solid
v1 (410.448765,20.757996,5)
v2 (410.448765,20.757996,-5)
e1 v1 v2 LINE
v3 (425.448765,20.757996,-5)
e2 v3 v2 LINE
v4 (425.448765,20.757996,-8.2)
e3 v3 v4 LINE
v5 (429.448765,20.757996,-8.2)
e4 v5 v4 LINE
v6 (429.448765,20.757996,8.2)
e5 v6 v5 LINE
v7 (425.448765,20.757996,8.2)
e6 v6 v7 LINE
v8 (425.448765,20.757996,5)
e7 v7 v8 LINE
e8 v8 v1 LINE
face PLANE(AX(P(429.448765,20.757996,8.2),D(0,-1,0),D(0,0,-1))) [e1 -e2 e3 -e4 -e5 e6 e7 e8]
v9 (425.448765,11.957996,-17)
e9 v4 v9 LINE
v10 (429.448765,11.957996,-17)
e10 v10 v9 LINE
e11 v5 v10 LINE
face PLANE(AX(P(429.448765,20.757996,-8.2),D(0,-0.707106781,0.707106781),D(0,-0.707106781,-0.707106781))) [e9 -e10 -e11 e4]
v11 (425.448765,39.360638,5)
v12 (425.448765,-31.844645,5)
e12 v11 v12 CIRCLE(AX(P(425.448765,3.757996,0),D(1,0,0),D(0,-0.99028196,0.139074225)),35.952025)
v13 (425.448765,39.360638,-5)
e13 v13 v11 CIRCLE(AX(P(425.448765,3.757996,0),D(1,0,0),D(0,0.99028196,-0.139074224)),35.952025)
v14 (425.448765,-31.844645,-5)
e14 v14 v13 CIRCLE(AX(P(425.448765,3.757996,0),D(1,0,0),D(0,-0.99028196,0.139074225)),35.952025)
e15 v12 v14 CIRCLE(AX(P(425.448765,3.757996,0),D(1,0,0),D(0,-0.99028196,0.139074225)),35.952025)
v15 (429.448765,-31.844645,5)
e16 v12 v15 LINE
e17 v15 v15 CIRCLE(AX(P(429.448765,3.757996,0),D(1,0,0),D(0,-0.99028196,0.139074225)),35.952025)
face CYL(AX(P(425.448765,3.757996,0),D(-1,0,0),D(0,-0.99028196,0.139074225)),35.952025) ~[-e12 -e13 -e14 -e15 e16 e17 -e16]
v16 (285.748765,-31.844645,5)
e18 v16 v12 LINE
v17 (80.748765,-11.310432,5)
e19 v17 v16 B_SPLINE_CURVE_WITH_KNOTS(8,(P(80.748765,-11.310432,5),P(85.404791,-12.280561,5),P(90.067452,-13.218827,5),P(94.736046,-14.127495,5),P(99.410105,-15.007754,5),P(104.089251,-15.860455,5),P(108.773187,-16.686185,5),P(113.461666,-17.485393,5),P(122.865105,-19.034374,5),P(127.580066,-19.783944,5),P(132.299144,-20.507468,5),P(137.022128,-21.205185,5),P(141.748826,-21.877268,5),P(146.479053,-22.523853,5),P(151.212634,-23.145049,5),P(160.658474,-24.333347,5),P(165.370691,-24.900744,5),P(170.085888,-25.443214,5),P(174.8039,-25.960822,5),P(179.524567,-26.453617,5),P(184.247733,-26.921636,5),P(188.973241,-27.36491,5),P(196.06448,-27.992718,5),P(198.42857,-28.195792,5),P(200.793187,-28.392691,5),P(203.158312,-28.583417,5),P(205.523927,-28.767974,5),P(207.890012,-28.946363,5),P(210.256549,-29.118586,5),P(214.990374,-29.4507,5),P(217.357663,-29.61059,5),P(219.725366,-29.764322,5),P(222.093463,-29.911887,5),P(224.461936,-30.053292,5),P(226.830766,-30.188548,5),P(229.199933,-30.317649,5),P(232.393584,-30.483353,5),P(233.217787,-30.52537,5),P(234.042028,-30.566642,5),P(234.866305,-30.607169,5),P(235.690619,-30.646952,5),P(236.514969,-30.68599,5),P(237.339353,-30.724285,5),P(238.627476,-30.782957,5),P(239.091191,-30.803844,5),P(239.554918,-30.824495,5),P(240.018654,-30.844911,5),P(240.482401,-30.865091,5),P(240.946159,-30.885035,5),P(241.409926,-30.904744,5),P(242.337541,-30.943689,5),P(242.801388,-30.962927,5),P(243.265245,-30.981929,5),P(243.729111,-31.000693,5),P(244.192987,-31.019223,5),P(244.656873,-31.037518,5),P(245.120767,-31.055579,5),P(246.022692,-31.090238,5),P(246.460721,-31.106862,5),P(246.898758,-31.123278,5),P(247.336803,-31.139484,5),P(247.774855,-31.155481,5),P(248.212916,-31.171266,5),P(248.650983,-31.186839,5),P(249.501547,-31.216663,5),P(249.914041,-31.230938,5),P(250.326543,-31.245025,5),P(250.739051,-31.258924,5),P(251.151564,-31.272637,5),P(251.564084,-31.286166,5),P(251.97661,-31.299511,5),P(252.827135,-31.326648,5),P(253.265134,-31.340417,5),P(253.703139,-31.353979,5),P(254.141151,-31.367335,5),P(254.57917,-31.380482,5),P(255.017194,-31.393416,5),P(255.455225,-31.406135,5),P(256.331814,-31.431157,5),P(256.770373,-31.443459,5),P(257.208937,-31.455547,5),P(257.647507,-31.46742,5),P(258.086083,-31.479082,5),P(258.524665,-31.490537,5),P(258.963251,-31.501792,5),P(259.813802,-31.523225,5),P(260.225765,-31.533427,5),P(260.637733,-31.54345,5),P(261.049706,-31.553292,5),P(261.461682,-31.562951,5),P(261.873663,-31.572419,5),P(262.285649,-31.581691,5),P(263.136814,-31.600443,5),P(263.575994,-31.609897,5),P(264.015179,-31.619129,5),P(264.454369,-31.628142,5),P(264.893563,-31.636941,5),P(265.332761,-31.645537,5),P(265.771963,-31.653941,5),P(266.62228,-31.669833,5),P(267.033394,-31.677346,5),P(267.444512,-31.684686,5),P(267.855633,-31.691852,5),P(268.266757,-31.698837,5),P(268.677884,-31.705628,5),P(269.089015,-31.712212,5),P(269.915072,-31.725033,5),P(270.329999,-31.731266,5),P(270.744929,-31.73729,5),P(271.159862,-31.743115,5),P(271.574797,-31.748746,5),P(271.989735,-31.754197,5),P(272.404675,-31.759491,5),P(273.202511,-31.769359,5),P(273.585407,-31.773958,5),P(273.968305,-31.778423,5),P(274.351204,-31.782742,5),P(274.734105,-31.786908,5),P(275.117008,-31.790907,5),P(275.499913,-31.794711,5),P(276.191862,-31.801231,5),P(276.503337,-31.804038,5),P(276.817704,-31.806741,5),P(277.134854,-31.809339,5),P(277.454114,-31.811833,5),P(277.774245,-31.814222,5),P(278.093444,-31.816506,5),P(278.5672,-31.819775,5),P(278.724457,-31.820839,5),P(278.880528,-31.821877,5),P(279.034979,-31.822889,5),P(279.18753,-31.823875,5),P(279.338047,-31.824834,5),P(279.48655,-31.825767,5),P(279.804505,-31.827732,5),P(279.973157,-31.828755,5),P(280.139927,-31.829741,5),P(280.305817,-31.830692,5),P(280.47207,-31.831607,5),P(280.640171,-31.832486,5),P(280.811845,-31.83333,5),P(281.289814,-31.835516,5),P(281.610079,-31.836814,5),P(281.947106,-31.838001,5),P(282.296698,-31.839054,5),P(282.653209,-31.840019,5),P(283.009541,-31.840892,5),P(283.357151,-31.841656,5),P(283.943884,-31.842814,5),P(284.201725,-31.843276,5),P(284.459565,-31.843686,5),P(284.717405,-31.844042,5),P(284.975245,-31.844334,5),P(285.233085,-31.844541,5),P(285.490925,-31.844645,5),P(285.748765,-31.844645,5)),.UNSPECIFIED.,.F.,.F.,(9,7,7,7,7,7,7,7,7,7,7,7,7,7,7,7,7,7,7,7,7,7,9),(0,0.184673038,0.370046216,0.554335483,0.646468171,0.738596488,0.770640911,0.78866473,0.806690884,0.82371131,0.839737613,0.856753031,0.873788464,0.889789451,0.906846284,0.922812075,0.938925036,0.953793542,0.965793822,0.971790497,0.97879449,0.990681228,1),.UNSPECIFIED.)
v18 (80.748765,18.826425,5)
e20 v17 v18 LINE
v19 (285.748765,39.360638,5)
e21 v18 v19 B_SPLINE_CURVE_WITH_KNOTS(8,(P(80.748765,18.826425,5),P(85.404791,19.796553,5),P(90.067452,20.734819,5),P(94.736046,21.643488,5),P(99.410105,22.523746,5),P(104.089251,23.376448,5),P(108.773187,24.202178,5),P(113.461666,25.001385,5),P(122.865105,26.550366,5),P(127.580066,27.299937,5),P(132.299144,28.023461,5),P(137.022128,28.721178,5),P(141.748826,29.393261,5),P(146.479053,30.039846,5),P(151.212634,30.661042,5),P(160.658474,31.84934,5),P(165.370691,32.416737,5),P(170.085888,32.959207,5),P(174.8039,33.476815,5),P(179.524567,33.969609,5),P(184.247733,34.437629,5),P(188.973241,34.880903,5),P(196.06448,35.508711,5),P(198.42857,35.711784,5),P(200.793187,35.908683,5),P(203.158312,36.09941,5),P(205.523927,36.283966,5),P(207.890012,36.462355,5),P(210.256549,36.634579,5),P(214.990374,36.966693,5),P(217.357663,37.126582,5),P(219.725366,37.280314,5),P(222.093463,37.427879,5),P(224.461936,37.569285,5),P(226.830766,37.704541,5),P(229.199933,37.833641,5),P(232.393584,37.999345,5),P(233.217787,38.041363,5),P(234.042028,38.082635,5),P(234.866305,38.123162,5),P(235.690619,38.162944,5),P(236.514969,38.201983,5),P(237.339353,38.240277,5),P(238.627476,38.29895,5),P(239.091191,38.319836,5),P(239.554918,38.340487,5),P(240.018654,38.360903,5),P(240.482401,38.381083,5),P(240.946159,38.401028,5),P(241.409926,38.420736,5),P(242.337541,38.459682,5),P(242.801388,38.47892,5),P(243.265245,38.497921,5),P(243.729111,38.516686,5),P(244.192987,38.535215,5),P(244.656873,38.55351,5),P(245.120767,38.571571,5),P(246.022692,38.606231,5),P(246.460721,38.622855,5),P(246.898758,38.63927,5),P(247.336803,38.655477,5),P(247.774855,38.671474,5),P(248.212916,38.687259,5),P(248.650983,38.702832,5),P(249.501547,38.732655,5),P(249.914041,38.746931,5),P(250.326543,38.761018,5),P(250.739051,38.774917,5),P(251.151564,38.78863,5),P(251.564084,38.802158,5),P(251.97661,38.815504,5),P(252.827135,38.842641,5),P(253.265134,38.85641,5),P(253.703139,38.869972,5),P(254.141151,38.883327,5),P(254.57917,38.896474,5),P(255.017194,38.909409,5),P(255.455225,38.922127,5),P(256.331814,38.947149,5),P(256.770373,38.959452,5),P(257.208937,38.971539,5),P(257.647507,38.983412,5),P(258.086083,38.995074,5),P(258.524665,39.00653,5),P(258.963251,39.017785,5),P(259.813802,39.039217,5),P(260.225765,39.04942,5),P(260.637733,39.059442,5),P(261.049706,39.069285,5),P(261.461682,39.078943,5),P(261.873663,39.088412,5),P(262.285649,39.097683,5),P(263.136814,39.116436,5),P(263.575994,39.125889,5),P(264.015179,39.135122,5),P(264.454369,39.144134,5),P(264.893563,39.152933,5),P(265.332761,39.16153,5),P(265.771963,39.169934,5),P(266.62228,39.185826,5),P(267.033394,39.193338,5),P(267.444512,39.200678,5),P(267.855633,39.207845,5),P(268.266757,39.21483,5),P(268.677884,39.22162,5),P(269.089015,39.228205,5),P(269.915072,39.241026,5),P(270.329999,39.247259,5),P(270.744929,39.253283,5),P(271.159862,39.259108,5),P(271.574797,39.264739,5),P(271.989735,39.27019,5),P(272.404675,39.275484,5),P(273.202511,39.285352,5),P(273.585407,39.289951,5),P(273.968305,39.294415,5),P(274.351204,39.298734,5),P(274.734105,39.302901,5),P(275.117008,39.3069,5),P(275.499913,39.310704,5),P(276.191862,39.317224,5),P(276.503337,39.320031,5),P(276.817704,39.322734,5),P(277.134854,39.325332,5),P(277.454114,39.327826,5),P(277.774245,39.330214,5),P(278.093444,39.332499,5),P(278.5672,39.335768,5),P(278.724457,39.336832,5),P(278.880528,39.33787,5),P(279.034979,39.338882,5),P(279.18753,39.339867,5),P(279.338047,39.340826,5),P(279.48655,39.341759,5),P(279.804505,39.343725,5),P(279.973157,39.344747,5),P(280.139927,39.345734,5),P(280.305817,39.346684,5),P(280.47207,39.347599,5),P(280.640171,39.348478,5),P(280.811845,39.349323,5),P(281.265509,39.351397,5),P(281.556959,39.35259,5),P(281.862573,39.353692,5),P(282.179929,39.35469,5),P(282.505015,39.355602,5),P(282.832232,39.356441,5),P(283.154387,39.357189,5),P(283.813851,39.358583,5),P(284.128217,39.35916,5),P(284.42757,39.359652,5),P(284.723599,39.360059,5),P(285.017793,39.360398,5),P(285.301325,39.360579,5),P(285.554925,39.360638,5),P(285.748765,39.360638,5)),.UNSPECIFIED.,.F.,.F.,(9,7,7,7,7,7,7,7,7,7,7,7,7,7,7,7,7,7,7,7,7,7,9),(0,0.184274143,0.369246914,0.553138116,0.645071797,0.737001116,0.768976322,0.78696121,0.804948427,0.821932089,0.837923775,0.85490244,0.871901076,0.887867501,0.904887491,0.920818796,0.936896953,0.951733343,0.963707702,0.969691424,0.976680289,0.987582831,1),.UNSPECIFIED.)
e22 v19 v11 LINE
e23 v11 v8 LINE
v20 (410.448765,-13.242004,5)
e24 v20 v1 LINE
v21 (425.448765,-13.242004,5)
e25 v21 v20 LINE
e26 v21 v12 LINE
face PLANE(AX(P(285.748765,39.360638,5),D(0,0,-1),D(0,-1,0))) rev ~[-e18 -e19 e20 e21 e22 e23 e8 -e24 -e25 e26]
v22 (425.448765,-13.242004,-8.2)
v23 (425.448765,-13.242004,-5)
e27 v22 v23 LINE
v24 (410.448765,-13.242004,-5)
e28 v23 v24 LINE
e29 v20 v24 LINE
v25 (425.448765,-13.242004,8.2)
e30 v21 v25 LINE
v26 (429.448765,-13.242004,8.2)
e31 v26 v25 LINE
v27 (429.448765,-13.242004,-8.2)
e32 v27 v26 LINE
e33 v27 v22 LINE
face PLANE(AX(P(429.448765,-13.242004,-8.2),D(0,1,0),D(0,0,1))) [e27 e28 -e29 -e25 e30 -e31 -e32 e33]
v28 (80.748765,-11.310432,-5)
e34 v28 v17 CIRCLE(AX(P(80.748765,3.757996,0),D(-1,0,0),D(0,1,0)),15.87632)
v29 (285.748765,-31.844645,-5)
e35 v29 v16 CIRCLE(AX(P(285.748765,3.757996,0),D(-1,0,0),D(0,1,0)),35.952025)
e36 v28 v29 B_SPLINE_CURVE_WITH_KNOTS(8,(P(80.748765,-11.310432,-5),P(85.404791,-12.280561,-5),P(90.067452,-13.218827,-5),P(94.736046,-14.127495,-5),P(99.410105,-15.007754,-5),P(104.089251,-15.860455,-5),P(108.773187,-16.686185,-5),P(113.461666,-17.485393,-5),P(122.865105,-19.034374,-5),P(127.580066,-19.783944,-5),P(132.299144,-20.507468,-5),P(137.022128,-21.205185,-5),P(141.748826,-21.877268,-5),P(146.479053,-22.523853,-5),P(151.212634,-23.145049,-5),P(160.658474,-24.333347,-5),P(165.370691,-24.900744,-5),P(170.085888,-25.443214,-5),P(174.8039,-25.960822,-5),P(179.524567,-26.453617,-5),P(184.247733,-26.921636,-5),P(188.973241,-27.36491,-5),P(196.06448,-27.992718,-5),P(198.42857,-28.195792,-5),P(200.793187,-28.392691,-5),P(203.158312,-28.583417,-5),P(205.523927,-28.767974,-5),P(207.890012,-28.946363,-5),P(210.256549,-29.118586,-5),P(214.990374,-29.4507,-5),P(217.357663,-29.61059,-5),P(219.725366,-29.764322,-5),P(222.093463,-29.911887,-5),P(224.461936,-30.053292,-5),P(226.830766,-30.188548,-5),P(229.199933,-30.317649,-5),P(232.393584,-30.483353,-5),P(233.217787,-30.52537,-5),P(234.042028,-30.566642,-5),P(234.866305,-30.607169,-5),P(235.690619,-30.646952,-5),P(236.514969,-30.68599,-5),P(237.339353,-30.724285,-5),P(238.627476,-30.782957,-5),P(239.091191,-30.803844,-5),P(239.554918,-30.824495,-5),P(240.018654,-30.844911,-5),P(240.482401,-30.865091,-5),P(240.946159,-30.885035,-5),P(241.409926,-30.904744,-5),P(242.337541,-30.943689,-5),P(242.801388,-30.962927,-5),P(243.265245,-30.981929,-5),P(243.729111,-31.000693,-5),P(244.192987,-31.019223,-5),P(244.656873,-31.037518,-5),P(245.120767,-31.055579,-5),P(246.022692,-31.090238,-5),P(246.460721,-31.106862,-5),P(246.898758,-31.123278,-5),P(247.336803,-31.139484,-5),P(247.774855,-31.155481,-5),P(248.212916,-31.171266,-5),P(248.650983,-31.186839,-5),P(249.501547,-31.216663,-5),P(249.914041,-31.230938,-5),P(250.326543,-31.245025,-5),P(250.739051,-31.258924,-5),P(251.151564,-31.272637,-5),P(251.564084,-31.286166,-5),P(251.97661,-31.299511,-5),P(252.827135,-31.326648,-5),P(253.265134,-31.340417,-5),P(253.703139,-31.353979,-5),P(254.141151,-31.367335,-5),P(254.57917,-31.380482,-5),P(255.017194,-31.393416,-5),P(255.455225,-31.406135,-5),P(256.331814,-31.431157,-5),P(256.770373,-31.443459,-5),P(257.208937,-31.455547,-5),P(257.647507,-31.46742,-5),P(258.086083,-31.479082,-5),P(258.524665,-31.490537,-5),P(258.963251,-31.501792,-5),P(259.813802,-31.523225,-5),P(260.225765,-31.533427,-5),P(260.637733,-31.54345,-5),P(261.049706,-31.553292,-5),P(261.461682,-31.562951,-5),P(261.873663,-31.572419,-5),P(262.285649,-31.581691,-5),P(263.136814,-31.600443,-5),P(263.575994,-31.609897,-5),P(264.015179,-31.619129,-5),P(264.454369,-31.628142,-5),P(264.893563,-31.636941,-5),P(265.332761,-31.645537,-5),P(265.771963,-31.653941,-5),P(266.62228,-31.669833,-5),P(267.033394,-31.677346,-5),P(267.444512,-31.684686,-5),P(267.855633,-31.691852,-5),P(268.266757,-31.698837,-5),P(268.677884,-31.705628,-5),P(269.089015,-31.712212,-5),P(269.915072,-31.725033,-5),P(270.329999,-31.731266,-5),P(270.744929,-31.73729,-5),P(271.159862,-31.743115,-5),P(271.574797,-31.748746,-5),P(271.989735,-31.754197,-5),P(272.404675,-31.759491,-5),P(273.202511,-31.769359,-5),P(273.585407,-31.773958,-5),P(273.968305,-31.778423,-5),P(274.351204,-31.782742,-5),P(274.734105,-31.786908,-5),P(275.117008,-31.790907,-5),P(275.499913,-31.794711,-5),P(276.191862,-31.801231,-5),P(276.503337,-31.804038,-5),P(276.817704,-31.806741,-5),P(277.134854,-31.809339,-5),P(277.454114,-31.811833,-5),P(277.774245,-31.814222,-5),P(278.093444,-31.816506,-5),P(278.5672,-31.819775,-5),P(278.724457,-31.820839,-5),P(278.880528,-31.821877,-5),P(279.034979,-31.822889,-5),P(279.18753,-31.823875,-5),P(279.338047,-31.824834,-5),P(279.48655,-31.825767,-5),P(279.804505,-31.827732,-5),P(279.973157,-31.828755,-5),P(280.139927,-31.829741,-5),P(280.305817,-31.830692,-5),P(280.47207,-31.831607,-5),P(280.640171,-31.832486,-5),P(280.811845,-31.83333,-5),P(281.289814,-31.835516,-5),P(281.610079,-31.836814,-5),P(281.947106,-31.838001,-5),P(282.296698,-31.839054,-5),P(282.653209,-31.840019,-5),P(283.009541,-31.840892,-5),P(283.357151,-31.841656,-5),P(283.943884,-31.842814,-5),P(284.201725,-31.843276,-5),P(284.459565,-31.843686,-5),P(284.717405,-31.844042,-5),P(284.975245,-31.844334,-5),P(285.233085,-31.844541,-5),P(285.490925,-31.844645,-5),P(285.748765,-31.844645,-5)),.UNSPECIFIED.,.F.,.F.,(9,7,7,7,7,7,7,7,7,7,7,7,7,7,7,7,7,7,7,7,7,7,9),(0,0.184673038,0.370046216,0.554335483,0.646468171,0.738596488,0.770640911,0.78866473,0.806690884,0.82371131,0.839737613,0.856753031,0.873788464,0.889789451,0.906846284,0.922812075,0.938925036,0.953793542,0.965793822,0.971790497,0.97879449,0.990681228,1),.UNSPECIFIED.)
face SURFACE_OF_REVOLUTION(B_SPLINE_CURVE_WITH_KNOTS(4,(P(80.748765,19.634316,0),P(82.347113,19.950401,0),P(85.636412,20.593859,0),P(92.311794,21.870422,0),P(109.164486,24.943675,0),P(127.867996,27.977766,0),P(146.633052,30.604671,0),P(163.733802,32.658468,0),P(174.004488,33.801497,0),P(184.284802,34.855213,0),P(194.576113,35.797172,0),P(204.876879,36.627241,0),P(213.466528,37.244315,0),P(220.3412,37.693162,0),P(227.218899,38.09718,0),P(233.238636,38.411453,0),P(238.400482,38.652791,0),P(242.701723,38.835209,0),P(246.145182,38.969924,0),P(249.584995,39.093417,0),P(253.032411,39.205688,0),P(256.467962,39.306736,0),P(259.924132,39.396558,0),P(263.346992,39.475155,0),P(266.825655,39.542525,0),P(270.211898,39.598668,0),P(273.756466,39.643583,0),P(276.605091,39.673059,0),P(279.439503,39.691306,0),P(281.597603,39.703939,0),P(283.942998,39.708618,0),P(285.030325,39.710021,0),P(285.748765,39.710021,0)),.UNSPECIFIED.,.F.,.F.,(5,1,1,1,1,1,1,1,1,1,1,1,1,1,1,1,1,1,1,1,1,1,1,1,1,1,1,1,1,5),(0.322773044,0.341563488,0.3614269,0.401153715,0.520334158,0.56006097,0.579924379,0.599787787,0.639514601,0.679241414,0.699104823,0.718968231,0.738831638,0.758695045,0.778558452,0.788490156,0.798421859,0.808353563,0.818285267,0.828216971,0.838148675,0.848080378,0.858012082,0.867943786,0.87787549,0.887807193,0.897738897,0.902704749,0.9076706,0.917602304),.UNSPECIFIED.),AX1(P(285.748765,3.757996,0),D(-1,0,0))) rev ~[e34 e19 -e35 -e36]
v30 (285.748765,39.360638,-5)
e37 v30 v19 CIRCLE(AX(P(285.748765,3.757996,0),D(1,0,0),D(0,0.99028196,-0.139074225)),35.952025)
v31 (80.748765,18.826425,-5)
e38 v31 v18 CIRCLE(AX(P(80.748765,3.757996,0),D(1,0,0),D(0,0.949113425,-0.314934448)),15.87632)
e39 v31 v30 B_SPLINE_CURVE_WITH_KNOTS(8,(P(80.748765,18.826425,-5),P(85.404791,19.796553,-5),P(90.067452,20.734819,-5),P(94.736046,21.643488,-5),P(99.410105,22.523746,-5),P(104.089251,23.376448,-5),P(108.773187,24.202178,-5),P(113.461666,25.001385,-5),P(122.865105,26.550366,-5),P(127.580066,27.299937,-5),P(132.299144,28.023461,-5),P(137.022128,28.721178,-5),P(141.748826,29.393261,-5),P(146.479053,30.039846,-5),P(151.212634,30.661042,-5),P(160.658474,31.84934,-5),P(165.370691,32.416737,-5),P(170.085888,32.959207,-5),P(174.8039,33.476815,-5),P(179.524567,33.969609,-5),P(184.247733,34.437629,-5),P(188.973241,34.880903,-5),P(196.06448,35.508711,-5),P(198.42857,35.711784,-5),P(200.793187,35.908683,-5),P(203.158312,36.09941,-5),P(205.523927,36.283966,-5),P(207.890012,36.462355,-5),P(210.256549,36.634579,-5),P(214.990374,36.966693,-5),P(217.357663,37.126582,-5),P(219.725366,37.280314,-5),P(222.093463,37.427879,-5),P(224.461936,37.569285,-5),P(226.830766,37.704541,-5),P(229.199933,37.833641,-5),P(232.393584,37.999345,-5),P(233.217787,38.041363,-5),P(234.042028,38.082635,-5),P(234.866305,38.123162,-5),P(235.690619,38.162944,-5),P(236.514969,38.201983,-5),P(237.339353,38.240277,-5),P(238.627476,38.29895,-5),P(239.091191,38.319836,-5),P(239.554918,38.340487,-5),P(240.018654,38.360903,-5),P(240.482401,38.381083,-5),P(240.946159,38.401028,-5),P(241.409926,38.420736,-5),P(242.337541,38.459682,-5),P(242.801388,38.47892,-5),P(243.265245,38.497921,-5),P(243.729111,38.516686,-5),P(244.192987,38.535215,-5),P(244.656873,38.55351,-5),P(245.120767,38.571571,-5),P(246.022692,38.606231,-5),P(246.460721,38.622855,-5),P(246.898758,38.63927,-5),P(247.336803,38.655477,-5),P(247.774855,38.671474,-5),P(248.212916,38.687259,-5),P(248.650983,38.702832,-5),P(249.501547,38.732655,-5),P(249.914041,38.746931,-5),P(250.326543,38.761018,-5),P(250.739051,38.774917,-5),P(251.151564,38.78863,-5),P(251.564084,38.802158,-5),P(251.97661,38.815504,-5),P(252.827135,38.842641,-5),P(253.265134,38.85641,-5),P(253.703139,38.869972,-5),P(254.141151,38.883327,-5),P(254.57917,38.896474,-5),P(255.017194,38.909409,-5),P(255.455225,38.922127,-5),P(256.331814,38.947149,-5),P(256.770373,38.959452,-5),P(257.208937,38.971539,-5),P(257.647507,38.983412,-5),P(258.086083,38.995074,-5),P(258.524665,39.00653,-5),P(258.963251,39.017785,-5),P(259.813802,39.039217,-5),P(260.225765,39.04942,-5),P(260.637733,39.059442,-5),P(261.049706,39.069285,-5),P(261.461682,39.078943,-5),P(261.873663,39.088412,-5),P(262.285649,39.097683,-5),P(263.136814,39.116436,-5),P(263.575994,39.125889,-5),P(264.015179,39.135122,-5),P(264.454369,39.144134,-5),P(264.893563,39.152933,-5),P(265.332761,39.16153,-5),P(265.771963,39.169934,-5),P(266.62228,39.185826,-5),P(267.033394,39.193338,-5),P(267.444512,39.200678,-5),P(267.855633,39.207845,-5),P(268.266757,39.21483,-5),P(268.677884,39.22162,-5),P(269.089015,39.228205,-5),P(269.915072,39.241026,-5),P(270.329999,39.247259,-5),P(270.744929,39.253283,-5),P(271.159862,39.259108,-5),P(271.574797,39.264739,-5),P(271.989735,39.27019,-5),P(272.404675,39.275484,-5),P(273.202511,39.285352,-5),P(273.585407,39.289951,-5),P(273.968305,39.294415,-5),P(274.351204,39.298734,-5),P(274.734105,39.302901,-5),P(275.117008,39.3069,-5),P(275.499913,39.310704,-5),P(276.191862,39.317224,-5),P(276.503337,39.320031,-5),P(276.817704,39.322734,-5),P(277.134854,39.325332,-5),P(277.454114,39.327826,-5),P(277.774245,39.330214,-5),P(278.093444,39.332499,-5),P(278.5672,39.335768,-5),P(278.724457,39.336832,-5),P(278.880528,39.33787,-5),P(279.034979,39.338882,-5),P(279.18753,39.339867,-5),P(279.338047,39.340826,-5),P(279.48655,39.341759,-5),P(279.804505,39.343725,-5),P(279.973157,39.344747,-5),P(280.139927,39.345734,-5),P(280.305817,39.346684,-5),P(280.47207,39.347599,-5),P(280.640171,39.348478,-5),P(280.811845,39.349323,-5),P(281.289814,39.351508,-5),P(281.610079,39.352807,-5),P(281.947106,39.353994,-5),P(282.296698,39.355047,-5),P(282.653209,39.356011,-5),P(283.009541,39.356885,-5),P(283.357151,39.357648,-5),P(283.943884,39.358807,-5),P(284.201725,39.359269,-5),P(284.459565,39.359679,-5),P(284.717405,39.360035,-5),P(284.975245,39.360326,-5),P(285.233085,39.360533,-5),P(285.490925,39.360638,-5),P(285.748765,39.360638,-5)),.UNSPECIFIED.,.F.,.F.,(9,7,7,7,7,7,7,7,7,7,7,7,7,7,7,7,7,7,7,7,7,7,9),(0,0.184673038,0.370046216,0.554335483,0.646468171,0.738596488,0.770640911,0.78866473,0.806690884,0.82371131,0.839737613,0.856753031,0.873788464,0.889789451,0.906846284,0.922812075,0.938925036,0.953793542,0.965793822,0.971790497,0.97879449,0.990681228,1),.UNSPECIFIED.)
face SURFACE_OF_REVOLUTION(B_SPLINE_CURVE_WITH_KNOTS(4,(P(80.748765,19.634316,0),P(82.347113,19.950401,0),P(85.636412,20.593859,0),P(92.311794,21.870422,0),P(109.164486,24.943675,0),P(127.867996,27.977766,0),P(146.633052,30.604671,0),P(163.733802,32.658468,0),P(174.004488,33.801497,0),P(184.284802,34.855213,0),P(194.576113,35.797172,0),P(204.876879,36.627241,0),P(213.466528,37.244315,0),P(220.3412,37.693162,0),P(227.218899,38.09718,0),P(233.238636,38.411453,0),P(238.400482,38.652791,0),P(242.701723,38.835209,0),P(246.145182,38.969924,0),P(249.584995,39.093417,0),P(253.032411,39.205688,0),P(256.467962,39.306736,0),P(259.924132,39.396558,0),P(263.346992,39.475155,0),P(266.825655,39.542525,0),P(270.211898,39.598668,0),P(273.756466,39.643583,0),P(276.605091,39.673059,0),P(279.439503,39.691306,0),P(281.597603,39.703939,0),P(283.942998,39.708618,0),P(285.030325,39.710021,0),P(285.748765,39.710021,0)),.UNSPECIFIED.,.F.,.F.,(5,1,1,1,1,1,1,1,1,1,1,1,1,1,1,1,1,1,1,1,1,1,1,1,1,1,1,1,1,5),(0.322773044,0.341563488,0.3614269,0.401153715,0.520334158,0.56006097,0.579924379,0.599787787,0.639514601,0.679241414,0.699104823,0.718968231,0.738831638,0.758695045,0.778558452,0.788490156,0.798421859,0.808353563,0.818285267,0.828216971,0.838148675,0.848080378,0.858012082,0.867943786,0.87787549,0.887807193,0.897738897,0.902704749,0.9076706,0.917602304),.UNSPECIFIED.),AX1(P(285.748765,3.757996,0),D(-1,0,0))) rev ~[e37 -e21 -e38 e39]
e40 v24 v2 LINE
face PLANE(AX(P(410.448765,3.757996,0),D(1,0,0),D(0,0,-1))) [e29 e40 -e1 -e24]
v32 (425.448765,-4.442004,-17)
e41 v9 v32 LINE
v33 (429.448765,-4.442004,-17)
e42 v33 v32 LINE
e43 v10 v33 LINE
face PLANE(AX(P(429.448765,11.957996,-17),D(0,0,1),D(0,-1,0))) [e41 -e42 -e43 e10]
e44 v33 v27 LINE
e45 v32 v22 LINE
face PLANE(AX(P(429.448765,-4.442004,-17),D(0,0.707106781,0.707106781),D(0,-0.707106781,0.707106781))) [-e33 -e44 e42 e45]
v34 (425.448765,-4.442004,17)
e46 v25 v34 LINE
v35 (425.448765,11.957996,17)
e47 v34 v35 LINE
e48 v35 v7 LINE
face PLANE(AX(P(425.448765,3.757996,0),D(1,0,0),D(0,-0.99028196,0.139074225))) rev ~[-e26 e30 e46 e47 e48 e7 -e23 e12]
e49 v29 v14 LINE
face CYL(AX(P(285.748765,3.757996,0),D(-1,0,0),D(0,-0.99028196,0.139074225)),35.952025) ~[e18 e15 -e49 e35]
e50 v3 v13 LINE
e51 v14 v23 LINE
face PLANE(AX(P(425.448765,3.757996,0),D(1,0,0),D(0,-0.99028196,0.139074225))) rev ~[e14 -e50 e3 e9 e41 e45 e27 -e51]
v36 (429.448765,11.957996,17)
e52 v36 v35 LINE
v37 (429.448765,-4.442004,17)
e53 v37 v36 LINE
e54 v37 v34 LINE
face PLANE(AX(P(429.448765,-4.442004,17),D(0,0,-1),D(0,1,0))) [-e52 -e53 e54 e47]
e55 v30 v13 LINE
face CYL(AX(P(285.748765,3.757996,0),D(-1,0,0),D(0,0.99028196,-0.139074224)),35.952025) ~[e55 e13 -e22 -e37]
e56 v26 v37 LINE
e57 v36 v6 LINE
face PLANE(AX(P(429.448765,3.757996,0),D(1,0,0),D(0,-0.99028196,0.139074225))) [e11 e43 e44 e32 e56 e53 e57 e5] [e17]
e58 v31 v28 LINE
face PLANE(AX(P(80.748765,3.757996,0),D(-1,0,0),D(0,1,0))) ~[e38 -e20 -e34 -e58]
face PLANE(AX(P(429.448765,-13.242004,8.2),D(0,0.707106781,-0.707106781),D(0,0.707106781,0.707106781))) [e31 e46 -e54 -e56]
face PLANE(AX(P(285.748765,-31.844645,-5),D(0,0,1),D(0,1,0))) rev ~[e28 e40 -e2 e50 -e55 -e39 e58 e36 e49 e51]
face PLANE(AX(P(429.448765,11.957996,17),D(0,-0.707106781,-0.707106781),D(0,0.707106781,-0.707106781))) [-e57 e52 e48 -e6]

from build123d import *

# Parameters (mm, degrees)
CUT_EXTRUDE1_DEPTH  = 212.88306668
BOSS_EXTRUDE2_DEPTH = 139.7
SKETCH9_R           = 35.95202499
BOSS_EXTRUDE3_DEPTH = 4
CUT_EXTRUDE2_DEPTH  = 4
SKETCH11_W          = 10
SKETCH11_H          = 34
CUT_EXTRUDE3_DEPTH  = 15


with BuildPart() as part:
    # Sketch3 → Revolve1 (revolve)
    with BuildSketch(Plane.XY):
        with BuildLine():
            Line((285.74876522, 39.710021262), (285.74876522, 3.757996272))
            Line((285.74876522, 3.757996272), (80.74876522, 3.757996272))
            Line((80.74876522, 3.757996272), (80.74876522, 19.634316044))
            add(Edge.make_bspline(
                [(80.74876522, 19.634316044), (82.347112552, 19.950400666), (85.636412123, 20.593859316), (92.311794173, 21.870421625), (109.164486257, 24.943674568), (127.867996046, 27.977765645), (146.633052135, 30.604670801), (163.733801994, 32.658467989), (174.004488004, 33.801497199), (184.284802392, 34.855212792), (194.57611333, 35.797171826), (204.876878825, 36.627240946), (213.466527777, 37.244314669), (220.34120026, 37.693162367), (227.218898943, 38.097179671), (233.238636081, 38.411453209), (238.400481516, 38.652791264), (242.701722554, 38.8352093), (246.145182192, 38.969923968), (249.584994627, 39.093417446), (253.03241088, 39.20568842), (256.467961578, 39.306735697), (259.924132141, 39.396558203), (263.346991762, 39.475154984), (266.82565511, 39.542525204), (270.211898057, 39.598668148), (273.756466178, 39.643583219), (276.60509147, 39.673059099), (279.43950326, 39.691306197), (281.597603414, 39.703938851), (283.942998009, 39.708617629), (285.03032454, 39.710021262), (285.74876522, 39.710021262)],
                knots=[0.322773044, 0.322773044, 0.322773044, 0.322773044, 0.322773044, 0.341563488, 0.3614269, 0.401153715, 0.520334158, 0.56006097, 0.579924379, 0.599787787, 0.639514601, 0.679241414, 0.699104823, 0.718968231, 0.738831638, 0.758695045, 0.778558452, 0.788490156, 0.798421859, 0.808353563, 0.818285267, 0.828216971, 0.838148675, 0.848080378, 0.858012082, 0.867943786, 0.87787549, 0.887807193, 0.897738897, 0.902704749, 0.9076706, 0.917602304, 0.917602304, 0.917602304, 0.917602304, 0.917602304], degree=4))
        make_face()
    revolve(axis=Axis((285.74876522, 3.757996272, 0), (-1, 0, 0)))

    # Sketch6 → Cut-Extrude1 (cut, through all)
    with BuildSketch(Plane(origin=(285.74876522, 0, 0), x_dir=(0, 0, -1), z_dir=(1, 0, 0))):
        with BuildLine():
            Line((-5, -31.844645496), (-5, 39.36063804))
            ThreePointArc((-5, 39.360638041), (-35.95202499, 3.757996272), (-5, -31.844645496))
        make_face()
        with BuildLine():
            ThreePointArc((35.95202499, 3.757996272), (27.132160123, 27.346001444), (5, 39.36063804))
            Line((5, 39.36063804), (5, -31.844645496))
            ThreePointArc((5, -31.844645496), (27.132160123, -19.830008899), (35.95202499, 3.757996272))
        make_face()
    extrude(amount=-CUT_EXTRUDE1_DEPTH, mode=Mode.SUBTRACT)

    # Sketch8 → Boss-Extrude2 (add)
    with BuildSketch(Plane(origin=(285.74876522, 0, 0), x_dir=(0, 0, -1), z_dir=(1, 0, 0))):
        with BuildLine():
            Line((5, -31.844645496), (5, 39.360638041))
            ThreePointArc((5, 39.360638041), (0, 39.710021262), (-5, 39.360638041))
            Line((-5, 39.360638041), (-5, -31.844645496))
            ThreePointArc((-5, -31.844645496), (0, -32.194028718), (5, -31.844645496))
        make_face()
    extrude(amount=BOSS_EXTRUDE2_DEPTH)

    # Sketch9 → Boss-Extrude3 (add)
    with BuildSketch(Plane(origin=(425.44876522, 0, 0), x_dir=(0, 0, -1), z_dir=(1, 0, 0))):
        with Locations(Location((0, 3.757996272, 0), (0, 0, 262.00572083))):
            Circle(SKETCH9_R)
    extrude(amount=BOSS_EXTRUDE3_DEPTH)

    # Sketch10 → Cut-Extrude2 (cut)
    with BuildSketch(Plane(origin=(429.44876522, 0, 0), x_dir=(0, 0, -1), z_dir=(1, 0, 0))):
        Polygon((-17, -4.442003728), (-17, 11.957996272), (-8.2, 20.757996272), (8.2, 20.757996272), (17, 11.957996272), (17, -4.442003728), (8.2, -13.242003728), (-8.2, -13.242003728), align=None)
    extrude(amount=-CUT_EXTRUDE2_DEPTH, mode=Mode.SUBTRACT)

    # Sketch11 → Cut-Extrude3 (cut)
    with BuildSketch(Plane(origin=(425.44876522, 0, 0), x_dir=(0, 0, -1), z_dir=(1, 0, 0))):
        with Locations((0, 3.757996272)):
            Rectangle(SKETCH11_W, SKETCH11_H)
    extrude(amount=-CUT_EXTRUDE3_DEPTH, mode=Mode.SUBTRACT)


solid = part.part
